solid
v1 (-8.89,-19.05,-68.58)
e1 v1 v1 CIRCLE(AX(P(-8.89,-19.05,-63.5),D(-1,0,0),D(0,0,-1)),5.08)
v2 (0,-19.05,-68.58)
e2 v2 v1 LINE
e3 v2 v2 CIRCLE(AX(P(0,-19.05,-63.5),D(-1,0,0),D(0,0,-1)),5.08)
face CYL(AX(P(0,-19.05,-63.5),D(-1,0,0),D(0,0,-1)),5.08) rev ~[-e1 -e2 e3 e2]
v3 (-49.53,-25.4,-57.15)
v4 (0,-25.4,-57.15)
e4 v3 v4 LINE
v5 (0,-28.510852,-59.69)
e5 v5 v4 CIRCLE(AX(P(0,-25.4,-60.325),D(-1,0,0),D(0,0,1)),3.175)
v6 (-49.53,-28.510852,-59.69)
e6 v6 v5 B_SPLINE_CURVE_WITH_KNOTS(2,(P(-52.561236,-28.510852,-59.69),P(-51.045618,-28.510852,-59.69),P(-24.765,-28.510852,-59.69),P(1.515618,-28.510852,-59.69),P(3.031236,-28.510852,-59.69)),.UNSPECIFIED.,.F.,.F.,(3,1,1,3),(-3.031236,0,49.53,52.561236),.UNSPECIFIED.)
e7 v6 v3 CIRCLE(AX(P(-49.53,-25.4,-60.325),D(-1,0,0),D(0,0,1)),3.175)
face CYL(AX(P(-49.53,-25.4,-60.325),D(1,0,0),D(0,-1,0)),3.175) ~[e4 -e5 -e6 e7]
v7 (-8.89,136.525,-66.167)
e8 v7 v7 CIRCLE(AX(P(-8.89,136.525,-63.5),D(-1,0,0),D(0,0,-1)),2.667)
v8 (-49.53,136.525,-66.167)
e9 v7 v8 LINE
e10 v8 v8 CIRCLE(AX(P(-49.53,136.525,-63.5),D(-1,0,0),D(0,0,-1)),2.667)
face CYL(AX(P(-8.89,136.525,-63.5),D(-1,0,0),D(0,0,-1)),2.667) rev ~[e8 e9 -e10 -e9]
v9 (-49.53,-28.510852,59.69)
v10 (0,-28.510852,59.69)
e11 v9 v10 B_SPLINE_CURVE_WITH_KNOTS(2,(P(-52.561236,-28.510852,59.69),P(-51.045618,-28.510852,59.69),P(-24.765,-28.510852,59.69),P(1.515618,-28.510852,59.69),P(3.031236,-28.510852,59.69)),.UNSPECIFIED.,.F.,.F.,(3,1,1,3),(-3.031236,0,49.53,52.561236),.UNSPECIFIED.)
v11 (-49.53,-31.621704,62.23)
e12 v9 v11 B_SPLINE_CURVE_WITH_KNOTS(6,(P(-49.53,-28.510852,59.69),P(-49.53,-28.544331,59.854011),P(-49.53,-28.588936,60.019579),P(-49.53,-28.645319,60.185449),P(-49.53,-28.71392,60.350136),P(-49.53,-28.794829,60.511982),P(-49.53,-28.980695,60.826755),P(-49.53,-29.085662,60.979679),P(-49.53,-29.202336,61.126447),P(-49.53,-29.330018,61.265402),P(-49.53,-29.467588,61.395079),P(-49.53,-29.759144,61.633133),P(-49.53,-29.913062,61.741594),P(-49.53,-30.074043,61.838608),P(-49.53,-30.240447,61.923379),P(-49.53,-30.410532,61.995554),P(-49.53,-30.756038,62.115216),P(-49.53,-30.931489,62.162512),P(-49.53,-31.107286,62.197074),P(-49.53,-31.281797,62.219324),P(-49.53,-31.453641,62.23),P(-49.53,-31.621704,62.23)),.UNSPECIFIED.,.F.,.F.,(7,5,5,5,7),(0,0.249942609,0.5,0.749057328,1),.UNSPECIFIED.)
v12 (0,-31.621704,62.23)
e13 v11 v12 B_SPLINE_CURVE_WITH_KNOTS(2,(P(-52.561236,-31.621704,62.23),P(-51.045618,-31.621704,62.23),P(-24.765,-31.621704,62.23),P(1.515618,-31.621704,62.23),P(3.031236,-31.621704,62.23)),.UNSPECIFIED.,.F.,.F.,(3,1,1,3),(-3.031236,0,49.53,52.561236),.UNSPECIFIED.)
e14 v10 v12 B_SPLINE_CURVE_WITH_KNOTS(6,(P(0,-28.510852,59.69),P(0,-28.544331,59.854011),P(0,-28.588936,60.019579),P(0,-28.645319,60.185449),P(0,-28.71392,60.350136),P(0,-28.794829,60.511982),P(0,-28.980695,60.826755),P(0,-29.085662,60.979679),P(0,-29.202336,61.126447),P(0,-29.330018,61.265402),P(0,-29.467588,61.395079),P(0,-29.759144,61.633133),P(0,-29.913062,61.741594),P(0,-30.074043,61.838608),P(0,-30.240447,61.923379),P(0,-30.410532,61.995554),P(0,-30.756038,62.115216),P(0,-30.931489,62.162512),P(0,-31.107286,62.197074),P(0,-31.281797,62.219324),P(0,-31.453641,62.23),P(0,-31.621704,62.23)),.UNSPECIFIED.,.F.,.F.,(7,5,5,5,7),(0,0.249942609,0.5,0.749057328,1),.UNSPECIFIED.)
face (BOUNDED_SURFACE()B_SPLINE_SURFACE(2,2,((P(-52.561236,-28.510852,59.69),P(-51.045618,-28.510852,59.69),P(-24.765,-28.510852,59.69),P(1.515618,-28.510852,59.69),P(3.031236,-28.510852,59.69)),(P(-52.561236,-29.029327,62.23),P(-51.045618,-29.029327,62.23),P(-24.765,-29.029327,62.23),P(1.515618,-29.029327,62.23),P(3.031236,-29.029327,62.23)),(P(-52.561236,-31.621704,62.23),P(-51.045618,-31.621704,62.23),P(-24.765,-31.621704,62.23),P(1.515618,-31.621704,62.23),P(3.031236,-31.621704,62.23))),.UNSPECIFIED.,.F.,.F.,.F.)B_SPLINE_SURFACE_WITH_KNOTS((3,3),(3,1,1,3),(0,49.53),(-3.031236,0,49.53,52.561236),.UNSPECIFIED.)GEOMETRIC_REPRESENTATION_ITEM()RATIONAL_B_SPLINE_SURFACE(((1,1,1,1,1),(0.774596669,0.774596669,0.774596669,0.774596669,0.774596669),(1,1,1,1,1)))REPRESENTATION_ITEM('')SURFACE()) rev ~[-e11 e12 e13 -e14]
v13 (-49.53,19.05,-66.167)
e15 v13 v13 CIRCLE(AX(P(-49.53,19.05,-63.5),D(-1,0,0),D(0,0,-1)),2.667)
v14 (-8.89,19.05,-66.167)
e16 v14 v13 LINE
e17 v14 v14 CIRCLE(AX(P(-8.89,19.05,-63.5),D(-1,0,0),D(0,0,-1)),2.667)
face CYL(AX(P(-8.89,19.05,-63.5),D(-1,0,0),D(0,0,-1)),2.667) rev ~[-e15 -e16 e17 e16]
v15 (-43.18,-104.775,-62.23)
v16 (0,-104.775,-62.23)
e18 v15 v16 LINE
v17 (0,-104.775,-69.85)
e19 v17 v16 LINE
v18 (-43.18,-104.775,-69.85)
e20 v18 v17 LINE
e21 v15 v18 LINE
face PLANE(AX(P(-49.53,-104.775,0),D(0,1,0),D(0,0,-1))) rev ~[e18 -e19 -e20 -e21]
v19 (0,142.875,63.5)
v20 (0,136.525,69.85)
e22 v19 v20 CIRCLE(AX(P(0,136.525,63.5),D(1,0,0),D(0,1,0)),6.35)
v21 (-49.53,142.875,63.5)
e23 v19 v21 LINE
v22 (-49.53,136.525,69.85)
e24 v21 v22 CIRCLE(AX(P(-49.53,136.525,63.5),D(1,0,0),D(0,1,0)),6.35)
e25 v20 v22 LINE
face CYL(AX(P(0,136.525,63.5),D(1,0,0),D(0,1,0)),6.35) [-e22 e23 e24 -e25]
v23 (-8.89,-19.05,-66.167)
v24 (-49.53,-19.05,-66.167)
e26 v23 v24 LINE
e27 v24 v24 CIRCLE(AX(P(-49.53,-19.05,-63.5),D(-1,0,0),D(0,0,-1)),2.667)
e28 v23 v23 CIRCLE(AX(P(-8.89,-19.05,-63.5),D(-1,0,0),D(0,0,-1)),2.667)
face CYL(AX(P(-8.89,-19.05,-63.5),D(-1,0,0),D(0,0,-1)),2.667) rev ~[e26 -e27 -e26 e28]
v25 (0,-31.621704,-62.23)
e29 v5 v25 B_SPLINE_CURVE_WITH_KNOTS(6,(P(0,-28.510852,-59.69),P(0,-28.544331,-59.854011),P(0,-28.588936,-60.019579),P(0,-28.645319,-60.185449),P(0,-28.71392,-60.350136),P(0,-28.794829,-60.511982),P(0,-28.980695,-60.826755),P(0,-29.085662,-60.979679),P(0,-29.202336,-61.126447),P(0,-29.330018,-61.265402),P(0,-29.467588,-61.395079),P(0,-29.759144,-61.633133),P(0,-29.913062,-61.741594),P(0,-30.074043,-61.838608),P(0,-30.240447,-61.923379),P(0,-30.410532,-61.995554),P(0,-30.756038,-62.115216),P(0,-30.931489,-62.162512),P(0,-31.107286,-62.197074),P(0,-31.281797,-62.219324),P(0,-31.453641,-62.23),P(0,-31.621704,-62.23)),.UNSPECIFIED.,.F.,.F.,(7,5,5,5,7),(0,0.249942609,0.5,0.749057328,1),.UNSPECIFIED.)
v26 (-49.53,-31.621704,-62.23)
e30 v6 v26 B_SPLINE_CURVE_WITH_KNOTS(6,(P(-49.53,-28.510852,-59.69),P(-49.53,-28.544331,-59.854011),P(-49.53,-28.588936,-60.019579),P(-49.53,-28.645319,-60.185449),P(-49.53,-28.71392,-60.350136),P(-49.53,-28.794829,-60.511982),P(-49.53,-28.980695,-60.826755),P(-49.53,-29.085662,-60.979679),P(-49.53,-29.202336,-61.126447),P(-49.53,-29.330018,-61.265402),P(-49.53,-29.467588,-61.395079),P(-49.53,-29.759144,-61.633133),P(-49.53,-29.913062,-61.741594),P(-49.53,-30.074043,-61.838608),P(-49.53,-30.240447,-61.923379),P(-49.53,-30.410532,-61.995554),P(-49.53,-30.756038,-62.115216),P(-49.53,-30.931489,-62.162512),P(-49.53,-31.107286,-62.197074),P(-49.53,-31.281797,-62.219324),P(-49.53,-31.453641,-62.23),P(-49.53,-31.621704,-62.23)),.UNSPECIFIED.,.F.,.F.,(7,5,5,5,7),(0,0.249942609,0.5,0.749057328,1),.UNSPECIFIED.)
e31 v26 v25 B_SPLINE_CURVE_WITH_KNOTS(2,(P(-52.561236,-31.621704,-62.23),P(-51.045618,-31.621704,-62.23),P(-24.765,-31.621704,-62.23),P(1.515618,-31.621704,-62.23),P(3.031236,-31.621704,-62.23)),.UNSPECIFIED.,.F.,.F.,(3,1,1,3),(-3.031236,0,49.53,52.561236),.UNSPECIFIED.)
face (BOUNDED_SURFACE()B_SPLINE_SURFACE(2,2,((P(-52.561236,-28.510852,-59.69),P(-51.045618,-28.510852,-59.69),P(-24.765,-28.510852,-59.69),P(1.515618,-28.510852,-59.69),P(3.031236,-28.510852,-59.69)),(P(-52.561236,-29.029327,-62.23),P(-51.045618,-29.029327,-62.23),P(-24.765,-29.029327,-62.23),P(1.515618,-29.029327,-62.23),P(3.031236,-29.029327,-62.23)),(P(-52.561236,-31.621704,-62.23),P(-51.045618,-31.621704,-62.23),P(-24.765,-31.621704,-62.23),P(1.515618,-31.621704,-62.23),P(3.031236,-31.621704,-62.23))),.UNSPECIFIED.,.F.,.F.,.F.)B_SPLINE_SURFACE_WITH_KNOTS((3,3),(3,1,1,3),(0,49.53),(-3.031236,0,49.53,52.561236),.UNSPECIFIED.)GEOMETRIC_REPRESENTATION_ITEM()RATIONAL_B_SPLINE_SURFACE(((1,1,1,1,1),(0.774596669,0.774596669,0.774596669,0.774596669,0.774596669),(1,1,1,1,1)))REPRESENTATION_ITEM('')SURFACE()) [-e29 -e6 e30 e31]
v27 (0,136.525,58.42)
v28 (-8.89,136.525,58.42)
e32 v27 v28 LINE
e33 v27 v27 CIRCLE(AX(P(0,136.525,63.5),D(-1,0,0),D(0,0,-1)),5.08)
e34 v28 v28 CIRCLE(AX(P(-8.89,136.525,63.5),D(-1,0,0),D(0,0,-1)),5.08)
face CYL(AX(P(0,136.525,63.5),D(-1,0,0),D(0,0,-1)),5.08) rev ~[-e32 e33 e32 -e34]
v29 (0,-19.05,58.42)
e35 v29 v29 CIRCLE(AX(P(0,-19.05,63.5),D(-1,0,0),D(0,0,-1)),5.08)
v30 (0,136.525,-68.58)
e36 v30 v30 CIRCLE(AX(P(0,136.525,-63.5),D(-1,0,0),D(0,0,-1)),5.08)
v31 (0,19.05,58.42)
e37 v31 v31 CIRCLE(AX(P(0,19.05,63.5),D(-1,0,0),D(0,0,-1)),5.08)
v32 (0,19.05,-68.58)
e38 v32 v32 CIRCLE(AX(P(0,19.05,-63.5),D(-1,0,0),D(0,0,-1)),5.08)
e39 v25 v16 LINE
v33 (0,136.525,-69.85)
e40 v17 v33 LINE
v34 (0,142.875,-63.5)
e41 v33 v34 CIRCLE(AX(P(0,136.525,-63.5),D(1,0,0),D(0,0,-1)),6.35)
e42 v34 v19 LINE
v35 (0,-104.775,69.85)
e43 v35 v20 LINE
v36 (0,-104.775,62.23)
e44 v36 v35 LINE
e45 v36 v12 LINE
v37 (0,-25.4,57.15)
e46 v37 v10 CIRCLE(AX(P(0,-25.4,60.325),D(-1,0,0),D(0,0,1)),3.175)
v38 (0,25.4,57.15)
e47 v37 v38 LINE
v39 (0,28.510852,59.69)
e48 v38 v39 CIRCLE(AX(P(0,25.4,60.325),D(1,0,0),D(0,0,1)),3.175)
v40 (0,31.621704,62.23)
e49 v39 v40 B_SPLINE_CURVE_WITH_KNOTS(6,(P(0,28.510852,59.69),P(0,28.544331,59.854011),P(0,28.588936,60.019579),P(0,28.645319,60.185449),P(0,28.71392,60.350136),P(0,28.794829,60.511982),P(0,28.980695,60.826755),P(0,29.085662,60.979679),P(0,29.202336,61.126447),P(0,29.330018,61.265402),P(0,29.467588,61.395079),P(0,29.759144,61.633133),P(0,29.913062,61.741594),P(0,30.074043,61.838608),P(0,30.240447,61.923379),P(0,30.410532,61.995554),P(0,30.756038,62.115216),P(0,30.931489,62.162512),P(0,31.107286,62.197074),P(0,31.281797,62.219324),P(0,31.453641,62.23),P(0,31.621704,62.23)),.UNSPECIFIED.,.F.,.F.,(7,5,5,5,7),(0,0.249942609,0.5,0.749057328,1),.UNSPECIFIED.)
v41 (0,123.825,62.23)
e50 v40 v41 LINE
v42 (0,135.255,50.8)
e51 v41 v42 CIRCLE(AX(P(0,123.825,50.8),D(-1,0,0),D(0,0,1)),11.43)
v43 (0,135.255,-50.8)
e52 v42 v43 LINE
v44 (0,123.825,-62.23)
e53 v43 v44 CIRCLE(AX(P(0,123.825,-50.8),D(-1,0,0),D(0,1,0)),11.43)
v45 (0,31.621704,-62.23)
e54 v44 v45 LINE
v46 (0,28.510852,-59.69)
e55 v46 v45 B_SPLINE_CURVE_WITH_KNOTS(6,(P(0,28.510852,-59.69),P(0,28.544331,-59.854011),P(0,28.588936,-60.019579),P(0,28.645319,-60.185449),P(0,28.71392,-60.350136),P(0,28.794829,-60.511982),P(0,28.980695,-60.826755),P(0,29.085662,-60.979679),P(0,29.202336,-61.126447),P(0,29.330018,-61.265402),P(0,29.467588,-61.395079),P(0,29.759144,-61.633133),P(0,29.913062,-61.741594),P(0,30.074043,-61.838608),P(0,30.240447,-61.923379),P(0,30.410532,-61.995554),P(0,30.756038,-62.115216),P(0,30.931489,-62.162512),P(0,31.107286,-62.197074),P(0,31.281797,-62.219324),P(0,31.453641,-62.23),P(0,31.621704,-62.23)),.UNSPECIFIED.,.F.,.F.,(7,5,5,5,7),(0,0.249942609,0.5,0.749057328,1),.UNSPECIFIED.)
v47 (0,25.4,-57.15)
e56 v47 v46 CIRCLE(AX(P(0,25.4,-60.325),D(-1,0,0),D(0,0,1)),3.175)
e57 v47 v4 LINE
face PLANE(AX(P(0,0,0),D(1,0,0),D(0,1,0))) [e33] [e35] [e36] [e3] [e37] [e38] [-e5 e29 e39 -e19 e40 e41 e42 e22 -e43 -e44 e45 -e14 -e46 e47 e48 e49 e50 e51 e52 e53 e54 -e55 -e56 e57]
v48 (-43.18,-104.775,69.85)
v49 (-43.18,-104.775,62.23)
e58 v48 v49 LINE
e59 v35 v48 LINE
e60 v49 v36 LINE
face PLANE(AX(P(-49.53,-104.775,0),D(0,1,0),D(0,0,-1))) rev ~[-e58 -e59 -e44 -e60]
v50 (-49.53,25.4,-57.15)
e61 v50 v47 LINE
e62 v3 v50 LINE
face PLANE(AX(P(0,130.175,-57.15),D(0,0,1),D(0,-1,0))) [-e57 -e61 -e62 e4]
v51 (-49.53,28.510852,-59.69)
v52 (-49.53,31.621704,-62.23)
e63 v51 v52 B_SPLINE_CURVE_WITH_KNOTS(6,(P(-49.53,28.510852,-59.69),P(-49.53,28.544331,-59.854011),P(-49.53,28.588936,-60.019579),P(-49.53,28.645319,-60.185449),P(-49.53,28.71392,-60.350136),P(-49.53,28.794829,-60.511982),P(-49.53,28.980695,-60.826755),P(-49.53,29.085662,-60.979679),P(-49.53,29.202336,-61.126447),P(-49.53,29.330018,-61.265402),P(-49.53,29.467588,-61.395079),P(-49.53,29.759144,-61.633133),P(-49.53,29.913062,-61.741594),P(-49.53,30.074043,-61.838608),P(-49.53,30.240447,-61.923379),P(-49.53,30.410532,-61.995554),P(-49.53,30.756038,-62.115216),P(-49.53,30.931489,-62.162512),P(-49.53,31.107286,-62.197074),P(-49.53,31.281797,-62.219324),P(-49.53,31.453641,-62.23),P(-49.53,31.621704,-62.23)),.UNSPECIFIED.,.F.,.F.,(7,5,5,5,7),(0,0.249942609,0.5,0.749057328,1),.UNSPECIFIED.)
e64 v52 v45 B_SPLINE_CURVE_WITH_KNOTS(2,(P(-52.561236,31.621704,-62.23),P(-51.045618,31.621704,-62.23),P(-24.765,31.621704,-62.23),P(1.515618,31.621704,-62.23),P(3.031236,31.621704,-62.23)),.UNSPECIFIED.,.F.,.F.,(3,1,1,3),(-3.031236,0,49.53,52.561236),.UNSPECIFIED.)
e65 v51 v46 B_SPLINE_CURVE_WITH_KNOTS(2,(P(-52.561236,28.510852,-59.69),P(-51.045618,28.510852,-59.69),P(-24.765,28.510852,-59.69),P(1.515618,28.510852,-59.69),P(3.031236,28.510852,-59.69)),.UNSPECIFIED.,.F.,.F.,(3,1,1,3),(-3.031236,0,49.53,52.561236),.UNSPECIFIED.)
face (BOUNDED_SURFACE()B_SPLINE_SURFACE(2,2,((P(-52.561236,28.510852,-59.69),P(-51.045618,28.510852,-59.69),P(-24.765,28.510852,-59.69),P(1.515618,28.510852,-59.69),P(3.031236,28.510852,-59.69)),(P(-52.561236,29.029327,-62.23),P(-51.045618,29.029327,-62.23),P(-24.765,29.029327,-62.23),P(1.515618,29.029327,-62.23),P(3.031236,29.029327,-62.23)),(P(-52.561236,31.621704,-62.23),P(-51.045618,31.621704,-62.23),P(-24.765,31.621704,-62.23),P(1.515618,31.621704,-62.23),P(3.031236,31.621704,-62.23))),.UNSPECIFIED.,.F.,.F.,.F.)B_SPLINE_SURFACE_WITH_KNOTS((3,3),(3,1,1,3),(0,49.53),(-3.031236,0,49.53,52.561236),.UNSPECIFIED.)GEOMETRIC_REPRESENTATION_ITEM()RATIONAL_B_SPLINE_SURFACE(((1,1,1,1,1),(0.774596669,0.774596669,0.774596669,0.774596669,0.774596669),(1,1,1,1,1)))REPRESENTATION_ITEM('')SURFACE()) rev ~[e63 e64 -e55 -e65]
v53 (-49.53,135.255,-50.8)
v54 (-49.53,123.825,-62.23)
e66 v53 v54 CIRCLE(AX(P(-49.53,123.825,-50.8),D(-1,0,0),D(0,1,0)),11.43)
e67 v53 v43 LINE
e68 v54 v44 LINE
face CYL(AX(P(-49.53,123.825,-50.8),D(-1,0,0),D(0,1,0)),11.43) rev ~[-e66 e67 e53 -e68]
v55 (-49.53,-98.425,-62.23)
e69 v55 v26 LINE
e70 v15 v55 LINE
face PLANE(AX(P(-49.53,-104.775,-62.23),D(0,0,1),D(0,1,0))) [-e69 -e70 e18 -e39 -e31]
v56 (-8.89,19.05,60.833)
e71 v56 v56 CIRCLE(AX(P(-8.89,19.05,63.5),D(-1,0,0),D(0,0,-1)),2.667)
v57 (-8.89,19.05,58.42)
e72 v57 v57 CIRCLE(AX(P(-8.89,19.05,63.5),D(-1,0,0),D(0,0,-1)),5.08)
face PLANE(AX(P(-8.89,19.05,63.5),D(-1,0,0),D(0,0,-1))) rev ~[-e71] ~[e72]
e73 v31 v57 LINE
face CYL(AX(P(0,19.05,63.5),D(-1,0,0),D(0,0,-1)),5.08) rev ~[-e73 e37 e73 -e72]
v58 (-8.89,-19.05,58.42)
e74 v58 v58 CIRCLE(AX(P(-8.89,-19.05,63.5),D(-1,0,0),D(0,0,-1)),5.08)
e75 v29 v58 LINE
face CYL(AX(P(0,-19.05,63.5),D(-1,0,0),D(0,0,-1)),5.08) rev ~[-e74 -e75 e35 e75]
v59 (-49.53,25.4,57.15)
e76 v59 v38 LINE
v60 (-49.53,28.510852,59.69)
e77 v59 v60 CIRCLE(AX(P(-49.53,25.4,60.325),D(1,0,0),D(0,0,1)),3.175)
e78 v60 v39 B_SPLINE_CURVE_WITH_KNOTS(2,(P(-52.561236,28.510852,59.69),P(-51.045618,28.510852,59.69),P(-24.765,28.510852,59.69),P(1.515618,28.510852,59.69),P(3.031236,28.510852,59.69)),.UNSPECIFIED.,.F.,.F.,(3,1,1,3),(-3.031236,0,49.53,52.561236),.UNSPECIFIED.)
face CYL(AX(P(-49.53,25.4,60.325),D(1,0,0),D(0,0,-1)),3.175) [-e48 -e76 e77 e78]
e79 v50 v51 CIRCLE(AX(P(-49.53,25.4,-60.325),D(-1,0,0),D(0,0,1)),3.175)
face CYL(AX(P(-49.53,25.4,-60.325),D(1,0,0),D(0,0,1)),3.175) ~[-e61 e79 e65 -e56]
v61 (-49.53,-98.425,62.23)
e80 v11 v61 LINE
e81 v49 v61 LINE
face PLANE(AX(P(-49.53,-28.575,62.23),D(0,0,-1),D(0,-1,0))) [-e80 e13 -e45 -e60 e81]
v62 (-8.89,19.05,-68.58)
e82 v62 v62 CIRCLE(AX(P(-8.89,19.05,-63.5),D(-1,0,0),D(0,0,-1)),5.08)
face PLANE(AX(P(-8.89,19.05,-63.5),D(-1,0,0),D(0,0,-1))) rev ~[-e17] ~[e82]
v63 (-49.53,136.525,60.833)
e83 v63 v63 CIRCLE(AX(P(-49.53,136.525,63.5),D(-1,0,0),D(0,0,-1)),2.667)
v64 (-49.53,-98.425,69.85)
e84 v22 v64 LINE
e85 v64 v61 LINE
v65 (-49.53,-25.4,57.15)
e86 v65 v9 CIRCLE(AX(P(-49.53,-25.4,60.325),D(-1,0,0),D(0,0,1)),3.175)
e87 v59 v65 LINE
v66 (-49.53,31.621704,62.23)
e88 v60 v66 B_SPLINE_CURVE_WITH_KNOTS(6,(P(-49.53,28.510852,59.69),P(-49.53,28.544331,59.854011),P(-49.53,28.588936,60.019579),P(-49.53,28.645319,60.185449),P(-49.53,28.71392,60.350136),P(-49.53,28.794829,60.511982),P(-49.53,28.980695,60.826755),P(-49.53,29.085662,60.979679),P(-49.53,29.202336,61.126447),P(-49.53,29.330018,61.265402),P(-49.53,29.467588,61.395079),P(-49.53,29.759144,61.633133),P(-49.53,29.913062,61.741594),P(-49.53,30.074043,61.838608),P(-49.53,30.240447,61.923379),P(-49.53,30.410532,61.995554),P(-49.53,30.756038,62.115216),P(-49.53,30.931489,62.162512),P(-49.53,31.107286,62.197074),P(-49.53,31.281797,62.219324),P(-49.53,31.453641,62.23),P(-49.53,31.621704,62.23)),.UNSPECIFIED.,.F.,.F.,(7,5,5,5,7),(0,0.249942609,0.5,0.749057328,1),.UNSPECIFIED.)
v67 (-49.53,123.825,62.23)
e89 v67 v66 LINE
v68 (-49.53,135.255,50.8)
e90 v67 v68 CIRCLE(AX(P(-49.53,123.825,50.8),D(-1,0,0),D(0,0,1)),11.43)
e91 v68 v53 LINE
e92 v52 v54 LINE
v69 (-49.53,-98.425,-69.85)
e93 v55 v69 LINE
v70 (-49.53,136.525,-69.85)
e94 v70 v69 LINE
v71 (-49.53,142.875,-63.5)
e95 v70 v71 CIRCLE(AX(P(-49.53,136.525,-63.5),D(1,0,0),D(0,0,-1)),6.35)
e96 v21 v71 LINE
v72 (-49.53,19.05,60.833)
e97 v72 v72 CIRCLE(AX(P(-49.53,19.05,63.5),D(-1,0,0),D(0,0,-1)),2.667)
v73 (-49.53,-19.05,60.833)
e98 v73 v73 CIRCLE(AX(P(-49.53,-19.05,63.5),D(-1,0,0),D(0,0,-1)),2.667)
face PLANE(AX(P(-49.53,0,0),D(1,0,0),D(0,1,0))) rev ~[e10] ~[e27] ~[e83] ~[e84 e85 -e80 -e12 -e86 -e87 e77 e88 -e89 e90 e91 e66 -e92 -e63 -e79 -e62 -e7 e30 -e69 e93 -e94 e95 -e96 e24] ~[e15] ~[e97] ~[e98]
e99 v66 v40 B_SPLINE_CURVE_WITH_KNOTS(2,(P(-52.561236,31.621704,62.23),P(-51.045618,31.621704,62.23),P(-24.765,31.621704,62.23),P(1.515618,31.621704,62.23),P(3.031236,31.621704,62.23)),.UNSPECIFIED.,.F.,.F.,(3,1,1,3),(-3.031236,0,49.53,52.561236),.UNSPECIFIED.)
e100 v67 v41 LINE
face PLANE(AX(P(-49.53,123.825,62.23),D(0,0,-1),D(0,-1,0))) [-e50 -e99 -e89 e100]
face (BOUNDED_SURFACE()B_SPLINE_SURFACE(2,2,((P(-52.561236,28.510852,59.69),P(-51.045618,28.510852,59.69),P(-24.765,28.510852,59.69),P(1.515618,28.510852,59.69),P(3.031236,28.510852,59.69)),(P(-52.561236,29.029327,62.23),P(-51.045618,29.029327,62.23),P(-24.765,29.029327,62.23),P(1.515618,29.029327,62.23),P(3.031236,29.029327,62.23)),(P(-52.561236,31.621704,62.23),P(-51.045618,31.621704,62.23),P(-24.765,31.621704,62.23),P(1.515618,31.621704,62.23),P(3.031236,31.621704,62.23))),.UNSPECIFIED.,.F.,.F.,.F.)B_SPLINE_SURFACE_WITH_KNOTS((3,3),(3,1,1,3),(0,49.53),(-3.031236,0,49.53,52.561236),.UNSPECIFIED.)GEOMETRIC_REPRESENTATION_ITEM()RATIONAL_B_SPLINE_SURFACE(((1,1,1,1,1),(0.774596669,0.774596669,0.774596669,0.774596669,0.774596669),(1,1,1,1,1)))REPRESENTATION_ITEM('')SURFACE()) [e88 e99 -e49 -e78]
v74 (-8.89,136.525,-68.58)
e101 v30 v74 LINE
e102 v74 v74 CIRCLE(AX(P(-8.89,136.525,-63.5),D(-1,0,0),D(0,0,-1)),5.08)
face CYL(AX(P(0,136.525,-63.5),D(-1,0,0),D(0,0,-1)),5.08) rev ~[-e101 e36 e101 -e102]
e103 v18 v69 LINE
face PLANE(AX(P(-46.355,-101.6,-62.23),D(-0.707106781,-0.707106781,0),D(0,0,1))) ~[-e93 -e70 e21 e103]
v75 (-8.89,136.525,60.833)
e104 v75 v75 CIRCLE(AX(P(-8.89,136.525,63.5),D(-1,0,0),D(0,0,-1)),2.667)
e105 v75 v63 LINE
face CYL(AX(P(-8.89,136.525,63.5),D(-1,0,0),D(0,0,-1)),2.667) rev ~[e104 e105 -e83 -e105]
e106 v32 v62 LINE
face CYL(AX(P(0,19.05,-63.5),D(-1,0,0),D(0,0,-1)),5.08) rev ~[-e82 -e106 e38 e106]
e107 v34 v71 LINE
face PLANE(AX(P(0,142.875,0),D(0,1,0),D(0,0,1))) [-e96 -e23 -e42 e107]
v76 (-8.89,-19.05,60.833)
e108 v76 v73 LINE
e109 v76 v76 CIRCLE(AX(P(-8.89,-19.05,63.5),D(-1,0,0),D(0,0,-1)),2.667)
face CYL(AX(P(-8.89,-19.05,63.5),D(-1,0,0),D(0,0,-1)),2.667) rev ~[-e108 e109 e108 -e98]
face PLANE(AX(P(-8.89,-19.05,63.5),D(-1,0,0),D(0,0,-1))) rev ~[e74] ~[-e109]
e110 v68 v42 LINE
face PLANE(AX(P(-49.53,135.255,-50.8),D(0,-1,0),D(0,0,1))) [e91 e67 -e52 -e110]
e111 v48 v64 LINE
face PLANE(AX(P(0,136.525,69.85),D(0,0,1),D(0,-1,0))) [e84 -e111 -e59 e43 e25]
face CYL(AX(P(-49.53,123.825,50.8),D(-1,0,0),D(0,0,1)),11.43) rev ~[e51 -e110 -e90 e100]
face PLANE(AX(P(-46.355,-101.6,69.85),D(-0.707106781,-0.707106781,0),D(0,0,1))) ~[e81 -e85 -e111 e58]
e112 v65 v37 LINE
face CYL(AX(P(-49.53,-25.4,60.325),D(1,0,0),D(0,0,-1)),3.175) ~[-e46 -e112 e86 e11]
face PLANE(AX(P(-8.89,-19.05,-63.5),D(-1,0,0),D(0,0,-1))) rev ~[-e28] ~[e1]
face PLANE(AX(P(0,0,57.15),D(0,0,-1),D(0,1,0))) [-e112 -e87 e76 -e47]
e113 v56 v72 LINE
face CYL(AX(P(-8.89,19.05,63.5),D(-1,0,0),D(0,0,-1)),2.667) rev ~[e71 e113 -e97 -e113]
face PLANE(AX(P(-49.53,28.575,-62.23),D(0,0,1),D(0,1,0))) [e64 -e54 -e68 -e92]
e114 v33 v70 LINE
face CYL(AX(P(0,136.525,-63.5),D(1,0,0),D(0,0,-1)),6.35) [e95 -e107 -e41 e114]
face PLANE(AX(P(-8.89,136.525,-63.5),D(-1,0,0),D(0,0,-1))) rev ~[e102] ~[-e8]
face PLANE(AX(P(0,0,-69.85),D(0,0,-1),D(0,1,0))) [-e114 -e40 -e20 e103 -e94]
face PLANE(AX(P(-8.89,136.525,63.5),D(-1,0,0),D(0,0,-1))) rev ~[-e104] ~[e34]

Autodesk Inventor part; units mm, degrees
ref_plane "YZ Plane" through (0, 0, 0) normal (1, 0, 0) x (0, 1, 0)
ref_plane "XZ Plane" through (0, 0, 0) normal (0, 1, 0) x (-1, 0, 0)
ref_plane "XY Plane" through (0, 0, 0) normal (0, 0, 1) x (1, 0, 0)
sketch "Sketch1" plane through (0, 0, 0) normal (1, 0, 0) x (0, 1, 0)
  line L0 (0, 99.6312) -> (0, -99.6312) projected
  line L1 (-202.2597, 0) -> (204.2274, 0) projected
  line L2 (-136.525, -69.85) -> (136.525, -69.85)
  line L3 (142.875, -63.5) -> (142.875, 63.5)
  line L4 (136.525, 69.85) -> (-136.525, 69.85)
  line L5 (-142.875, 63.5) -> (-142.875, -63.5)
  line L6 (-142.875, -69.85) -> (142.875, 69.85) construction
  line L7 (142.875, -69.85) -> (-142.875, 69.85) construction
  arc A0 (142.875, 63.5) -> (136.525, 69.85) centre (136.525, 63.5) ccw
  arc A1 (136.525, -69.85) -> (142.875, -63.5) centre (136.525, -63.5) ccw
  arc A2 (-142.875, -63.5) -> (-136.525, -69.85) centre (-136.525, -63.5) ccw
  arc A3 (-136.525, 69.85) -> (-142.875, 63.5) centre (-136.525, 63.5) ccw
  line L8 (130.175, 57.15) -> (130.175, -57.15)
  line L9 (130.175, -57.15) -> (-130.175, -57.15)
  line L10 (-130.175, -57.15) -> (-130.175, 57.15)
  line L11 (-130.175, 57.15) -> (130.175, 57.15)
  line L12 (-136.525, 63.5) -> (136.525, 63.5) construction
  line L13 (136.525, 63.5) -> (136.525, -63.5) construction
  line L14 (136.525, -63.5) -> (-136.525, -63.5) construction
  line L15 (-136.525, -63.5) -> (-136.525, 63.5) construction
  line L16 (-136.525, 63.5) -> (136.525, -63.5) construction
  line L17 (136.525, 63.5) -> (-136.525, -63.5) construction
  point P0 (0, 0)
  point P1 (19.05, 63.5)
  point P2 (19.05, -63.5)
  point P3 (-19.05, 63.5)
  point P4 (-19.05, -63.5)
  dimension "d0" = 139.7
  dimension "d1" = 285.75
  dimension "d2" = 6.35
  dimension "d3" = 12.7
  dimension "d4" = 6.35
  dimension "d5" = 6.35
  dimension "d6" = 19.05
  dimension "d7" = 19.05
extrude "Extrusion1" add sketch "Sketch1" against normal blind 49.53 contours L4 A0 L3 L1 L8 L11 L0 | L0 L11 L10 L1 L5 A3 L4 | L9 L8 L1 L3 A1 L2 L0 | L0 L2 A2 L5 L1 L10 L9
fillet "Fillet1" radius 6.35 4 edges at (-24.765, 130.175, 57.15) (-24.765, 130.175, -57.15) (-24.765, -130.175, -57.15) (-24.765, -130.175, 57.15)
hole "Hole1" at (0, 136.525, 63.5) at (0, 136.525, -63.5) at (0, 19.05, 63.5) at (0, 19.05, -63.5) at (0, -19.05, 63.5) at (0, -19.05, -63.5) at (0, -136.525, 63.5) at (0, -136.525, -63.5) direction (-1, 0, 0) diameter 5.334 end through all counterbore diameter 10.16 counterbore depth 8.89
sketch "Sketch2" plane through (-49.53, 0, 0) normal (-1, 0, 0) x (0, 0, 1)
  line L0 (0, -202.2597) -> (0, 204.2274) projected
  line L1 (99.6312, 0) -> (-99.6312, 0) projected
  line L2 (119.4093, -203.1024) -> (-119.4093, -203.1024)
  line L3 (-119.4093, -203.1024) -> (-119.4093, 0)
  line L4 (-119.4093, 0) -> (119.4093, 0)
  line L5 (119.4093, 0) -> (119.4093, -203.1024)
  line L6 (119.4093, -203.1024) -> (-119.4093, 0) construction
  line L7 (-119.4093, -203.1024) -> (119.4093, 0) construction
  point P0 (0, 0)
  point P1 (0, -101.5512)
  point P2 (119.4093, 0)
  dimension "d18" = 0
extrude "Extrusion2" [suppressed]
sketch "Sketch3" plane through (-34.925, 0, -69.85) normal (0, -1, 0) x (1, 0, 0)
  line L0 (0, 12.7) -> (34.925, 12.7) projected
  line L1 (0, 0) -> (0, 12.7) projected
  line L2 (34.925, 0) -> (0, 0) projected
  line L3 (34.925, 12.7) -> (34.925, 0) projected
  line L4 (34.925, 127) -> (0, 127) projected
  line L5 (34.925, 139.7) -> (34.925, 127) projected
  line L6 (0, 139.7) -> (34.925, 139.7) projected
  line L7 (0, 127) -> (0, 139.7) projected
  line L8 (0, 133.35) -> (0, 6.35) construction
  line L9 (34.925, 6.35) -> (0, 6.35) construction
  line L10 (0, 6.35) -> (34.925, 6.35) construction
  line L11 (0, 133.35) -> (34.925, 133.35) construction
  line L12 (34.925, 135.417) -> (34.925, 131.283) construction
  line L13 (34.925, 133.35) -> (0, 133.35) construction
  point P0 (34.925, 69.85)
  point P1 (7.62, 6.35)
  point P2 (27.305, 6.35)
  point P3 (27.305, 133.35)
  point P4 (7.62, 133.35)
  dimension "d21" = 7.62
  dimension "d22" = 7.62
  dimension "d23" = 7.62
  dimension "d24" = 7.62
hole "Hole2" [suppressed]
chamfer "Chamfer1" [suppressed]
sketch "Sketch4" plane through (-49.53, 0, 0) normal (-1, 0, 0) x (0, 0, 1)
  line L0 (0, -202.2597) -> (0, 204.2274) projected
  line L1 (99.6312, 0) -> (-99.6312, 0) projected
  line L2 (116.354, -104.775) -> (-116.354, -104.775)
  line L3 (-116.354, -104.775) -> (-116.354, -199.2224)
  line L4 (-116.354, -199.2224) -> (116.354, -199.2224)
  line L5 (116.354, -199.2224) -> (116.354, -104.775)
  line L6 (116.354, -104.775) -> (-116.354, -199.2224) construction
  line L7 (-116.354, -104.775) -> (116.354, -199.2224) construction
  line L8 (63.5, 142.875) -> (-63.5, 142.875) projected
  point P0 (0, 0)
  point P1 (0, -151.9987)
  dimension "d35" = 247.65
extrude "Extrusion3" cut sketch "Sketch4" against normal through all
sketch "Sketch5" plane through (-49.53, 0, 0) normal (-1, 0, 0) x (0, 0, 1)
  line L0 (-57.15, -104.775) -> (-57.15, 123.825) projected
  line L1 (-50.8, 130.175) -> (50.8, 130.175) projected
  line L2 (57.15, 123.825) -> (57.15, -104.775) projected
  line L3 (0, -202.2597) -> (0, 204.2274) projected
  arc A0 (-50.8, 130.175) -> (-57.15, 123.825) centre (-50.8, 123.825) ccw projected
  arc A1 (57.15, 123.825) -> (50.8, 130.175) centre (50.8, 123.825) ccw projected
  line L4 (-62.23, -104.775) -> (-62.23, 123.825)
  arc A2 (-50.8, 135.255) -> (-62.23, 123.825) centre (-50.8, 123.825) ccw
  line L5 (-50.8, 135.255) -> (50.8, 135.255)
  arc A3 (62.23, 123.825) -> (50.8, 135.255) centre (50.8, 123.825) ccw
  line L6 (62.23, 123.825) -> (62.23, -104.775)
  line L7 (62.23, -28.575) -> (-62.23, -28.575)
  line L8 (-62.23, -28.575) -> (-62.23, 28.575)
  line L9 (-62.23, 28.575) -> (62.23, 28.575)
  line L10 (62.23, 28.575) -> (62.23, -28.575)
  line L11 (62.23, -28.575) -> (-62.23, 28.575) construction
  line L12 (-62.23, -28.575) -> (62.23, 28.575) construction
  line L13 (-69.85, -104.775) -> (-57.15, -104.775) projected
  line L14 (57.15, -104.775) -> (69.85, -104.775) projected
  point P0 (0, 0)
  point P1 (57.15, 28.575)
  point P2 (-57.15, 28.575)
  point P3 (57.15, -28.575)
  point P4 (-57.15, -28.575)
  dimension "d38" = 5.08
  dimension "d39" = 57.15
extrude "Extrusion4" cut sketch "Sketch5" against normal through all contours L13 L4 L7 L0 | L9 L4 A2 L5 L3 L1 A0 L0 | L7 L6 L14 L2 | L3 L5 A3 L6 L9 L2 A1 L1
fillet "Fillet2" radius 3.175 8 edges at (-24.765, -28.575, -57.15) (-24.765, -28.575, -62.23) (-24.765, 28.575, -57.15) (-24.765, 28.575, -62.23) (-24.765, -28.575, 57.15) (-24.765, -28.575, 62.23) (-24.765, 28.575, 57.15) (-24.765, 28.575, 62.23)
chamfer "Chamfer2" distance 6.35 angle 45 2 edges at (-49.53, -104.775, -66.04) (-49.53, -104.775, 66.04)
sketch "Sketch6" plane through (-49.53, 0, 0) normal (-1, 0, 0) x (0, 0, 1)
  line L0 (69.0599, 146.1578) -> (-63.5, 146.1578) construction
  line L1 (-63.5, 146.1578) -> (-63.5, -84.3884) construction
  line L2 (-63.5, -84.3884) -> (69.0599, -84.3884) construction
  line L3 (69.0599, -84.3884) -> (69.0599, 146.1578) construction
  line L4 (69.0599, 146.1578) -> (-63.5, -84.3884) construction
  line L5 (-63.5, 146.1578) -> (69.0599, -84.3884) construction
  point P0 (0, 0)
  point P1 (2.7799, 30.8847)
  point P2 (63.5, -19.05)
  point P3 (-63.5, 136.525)
